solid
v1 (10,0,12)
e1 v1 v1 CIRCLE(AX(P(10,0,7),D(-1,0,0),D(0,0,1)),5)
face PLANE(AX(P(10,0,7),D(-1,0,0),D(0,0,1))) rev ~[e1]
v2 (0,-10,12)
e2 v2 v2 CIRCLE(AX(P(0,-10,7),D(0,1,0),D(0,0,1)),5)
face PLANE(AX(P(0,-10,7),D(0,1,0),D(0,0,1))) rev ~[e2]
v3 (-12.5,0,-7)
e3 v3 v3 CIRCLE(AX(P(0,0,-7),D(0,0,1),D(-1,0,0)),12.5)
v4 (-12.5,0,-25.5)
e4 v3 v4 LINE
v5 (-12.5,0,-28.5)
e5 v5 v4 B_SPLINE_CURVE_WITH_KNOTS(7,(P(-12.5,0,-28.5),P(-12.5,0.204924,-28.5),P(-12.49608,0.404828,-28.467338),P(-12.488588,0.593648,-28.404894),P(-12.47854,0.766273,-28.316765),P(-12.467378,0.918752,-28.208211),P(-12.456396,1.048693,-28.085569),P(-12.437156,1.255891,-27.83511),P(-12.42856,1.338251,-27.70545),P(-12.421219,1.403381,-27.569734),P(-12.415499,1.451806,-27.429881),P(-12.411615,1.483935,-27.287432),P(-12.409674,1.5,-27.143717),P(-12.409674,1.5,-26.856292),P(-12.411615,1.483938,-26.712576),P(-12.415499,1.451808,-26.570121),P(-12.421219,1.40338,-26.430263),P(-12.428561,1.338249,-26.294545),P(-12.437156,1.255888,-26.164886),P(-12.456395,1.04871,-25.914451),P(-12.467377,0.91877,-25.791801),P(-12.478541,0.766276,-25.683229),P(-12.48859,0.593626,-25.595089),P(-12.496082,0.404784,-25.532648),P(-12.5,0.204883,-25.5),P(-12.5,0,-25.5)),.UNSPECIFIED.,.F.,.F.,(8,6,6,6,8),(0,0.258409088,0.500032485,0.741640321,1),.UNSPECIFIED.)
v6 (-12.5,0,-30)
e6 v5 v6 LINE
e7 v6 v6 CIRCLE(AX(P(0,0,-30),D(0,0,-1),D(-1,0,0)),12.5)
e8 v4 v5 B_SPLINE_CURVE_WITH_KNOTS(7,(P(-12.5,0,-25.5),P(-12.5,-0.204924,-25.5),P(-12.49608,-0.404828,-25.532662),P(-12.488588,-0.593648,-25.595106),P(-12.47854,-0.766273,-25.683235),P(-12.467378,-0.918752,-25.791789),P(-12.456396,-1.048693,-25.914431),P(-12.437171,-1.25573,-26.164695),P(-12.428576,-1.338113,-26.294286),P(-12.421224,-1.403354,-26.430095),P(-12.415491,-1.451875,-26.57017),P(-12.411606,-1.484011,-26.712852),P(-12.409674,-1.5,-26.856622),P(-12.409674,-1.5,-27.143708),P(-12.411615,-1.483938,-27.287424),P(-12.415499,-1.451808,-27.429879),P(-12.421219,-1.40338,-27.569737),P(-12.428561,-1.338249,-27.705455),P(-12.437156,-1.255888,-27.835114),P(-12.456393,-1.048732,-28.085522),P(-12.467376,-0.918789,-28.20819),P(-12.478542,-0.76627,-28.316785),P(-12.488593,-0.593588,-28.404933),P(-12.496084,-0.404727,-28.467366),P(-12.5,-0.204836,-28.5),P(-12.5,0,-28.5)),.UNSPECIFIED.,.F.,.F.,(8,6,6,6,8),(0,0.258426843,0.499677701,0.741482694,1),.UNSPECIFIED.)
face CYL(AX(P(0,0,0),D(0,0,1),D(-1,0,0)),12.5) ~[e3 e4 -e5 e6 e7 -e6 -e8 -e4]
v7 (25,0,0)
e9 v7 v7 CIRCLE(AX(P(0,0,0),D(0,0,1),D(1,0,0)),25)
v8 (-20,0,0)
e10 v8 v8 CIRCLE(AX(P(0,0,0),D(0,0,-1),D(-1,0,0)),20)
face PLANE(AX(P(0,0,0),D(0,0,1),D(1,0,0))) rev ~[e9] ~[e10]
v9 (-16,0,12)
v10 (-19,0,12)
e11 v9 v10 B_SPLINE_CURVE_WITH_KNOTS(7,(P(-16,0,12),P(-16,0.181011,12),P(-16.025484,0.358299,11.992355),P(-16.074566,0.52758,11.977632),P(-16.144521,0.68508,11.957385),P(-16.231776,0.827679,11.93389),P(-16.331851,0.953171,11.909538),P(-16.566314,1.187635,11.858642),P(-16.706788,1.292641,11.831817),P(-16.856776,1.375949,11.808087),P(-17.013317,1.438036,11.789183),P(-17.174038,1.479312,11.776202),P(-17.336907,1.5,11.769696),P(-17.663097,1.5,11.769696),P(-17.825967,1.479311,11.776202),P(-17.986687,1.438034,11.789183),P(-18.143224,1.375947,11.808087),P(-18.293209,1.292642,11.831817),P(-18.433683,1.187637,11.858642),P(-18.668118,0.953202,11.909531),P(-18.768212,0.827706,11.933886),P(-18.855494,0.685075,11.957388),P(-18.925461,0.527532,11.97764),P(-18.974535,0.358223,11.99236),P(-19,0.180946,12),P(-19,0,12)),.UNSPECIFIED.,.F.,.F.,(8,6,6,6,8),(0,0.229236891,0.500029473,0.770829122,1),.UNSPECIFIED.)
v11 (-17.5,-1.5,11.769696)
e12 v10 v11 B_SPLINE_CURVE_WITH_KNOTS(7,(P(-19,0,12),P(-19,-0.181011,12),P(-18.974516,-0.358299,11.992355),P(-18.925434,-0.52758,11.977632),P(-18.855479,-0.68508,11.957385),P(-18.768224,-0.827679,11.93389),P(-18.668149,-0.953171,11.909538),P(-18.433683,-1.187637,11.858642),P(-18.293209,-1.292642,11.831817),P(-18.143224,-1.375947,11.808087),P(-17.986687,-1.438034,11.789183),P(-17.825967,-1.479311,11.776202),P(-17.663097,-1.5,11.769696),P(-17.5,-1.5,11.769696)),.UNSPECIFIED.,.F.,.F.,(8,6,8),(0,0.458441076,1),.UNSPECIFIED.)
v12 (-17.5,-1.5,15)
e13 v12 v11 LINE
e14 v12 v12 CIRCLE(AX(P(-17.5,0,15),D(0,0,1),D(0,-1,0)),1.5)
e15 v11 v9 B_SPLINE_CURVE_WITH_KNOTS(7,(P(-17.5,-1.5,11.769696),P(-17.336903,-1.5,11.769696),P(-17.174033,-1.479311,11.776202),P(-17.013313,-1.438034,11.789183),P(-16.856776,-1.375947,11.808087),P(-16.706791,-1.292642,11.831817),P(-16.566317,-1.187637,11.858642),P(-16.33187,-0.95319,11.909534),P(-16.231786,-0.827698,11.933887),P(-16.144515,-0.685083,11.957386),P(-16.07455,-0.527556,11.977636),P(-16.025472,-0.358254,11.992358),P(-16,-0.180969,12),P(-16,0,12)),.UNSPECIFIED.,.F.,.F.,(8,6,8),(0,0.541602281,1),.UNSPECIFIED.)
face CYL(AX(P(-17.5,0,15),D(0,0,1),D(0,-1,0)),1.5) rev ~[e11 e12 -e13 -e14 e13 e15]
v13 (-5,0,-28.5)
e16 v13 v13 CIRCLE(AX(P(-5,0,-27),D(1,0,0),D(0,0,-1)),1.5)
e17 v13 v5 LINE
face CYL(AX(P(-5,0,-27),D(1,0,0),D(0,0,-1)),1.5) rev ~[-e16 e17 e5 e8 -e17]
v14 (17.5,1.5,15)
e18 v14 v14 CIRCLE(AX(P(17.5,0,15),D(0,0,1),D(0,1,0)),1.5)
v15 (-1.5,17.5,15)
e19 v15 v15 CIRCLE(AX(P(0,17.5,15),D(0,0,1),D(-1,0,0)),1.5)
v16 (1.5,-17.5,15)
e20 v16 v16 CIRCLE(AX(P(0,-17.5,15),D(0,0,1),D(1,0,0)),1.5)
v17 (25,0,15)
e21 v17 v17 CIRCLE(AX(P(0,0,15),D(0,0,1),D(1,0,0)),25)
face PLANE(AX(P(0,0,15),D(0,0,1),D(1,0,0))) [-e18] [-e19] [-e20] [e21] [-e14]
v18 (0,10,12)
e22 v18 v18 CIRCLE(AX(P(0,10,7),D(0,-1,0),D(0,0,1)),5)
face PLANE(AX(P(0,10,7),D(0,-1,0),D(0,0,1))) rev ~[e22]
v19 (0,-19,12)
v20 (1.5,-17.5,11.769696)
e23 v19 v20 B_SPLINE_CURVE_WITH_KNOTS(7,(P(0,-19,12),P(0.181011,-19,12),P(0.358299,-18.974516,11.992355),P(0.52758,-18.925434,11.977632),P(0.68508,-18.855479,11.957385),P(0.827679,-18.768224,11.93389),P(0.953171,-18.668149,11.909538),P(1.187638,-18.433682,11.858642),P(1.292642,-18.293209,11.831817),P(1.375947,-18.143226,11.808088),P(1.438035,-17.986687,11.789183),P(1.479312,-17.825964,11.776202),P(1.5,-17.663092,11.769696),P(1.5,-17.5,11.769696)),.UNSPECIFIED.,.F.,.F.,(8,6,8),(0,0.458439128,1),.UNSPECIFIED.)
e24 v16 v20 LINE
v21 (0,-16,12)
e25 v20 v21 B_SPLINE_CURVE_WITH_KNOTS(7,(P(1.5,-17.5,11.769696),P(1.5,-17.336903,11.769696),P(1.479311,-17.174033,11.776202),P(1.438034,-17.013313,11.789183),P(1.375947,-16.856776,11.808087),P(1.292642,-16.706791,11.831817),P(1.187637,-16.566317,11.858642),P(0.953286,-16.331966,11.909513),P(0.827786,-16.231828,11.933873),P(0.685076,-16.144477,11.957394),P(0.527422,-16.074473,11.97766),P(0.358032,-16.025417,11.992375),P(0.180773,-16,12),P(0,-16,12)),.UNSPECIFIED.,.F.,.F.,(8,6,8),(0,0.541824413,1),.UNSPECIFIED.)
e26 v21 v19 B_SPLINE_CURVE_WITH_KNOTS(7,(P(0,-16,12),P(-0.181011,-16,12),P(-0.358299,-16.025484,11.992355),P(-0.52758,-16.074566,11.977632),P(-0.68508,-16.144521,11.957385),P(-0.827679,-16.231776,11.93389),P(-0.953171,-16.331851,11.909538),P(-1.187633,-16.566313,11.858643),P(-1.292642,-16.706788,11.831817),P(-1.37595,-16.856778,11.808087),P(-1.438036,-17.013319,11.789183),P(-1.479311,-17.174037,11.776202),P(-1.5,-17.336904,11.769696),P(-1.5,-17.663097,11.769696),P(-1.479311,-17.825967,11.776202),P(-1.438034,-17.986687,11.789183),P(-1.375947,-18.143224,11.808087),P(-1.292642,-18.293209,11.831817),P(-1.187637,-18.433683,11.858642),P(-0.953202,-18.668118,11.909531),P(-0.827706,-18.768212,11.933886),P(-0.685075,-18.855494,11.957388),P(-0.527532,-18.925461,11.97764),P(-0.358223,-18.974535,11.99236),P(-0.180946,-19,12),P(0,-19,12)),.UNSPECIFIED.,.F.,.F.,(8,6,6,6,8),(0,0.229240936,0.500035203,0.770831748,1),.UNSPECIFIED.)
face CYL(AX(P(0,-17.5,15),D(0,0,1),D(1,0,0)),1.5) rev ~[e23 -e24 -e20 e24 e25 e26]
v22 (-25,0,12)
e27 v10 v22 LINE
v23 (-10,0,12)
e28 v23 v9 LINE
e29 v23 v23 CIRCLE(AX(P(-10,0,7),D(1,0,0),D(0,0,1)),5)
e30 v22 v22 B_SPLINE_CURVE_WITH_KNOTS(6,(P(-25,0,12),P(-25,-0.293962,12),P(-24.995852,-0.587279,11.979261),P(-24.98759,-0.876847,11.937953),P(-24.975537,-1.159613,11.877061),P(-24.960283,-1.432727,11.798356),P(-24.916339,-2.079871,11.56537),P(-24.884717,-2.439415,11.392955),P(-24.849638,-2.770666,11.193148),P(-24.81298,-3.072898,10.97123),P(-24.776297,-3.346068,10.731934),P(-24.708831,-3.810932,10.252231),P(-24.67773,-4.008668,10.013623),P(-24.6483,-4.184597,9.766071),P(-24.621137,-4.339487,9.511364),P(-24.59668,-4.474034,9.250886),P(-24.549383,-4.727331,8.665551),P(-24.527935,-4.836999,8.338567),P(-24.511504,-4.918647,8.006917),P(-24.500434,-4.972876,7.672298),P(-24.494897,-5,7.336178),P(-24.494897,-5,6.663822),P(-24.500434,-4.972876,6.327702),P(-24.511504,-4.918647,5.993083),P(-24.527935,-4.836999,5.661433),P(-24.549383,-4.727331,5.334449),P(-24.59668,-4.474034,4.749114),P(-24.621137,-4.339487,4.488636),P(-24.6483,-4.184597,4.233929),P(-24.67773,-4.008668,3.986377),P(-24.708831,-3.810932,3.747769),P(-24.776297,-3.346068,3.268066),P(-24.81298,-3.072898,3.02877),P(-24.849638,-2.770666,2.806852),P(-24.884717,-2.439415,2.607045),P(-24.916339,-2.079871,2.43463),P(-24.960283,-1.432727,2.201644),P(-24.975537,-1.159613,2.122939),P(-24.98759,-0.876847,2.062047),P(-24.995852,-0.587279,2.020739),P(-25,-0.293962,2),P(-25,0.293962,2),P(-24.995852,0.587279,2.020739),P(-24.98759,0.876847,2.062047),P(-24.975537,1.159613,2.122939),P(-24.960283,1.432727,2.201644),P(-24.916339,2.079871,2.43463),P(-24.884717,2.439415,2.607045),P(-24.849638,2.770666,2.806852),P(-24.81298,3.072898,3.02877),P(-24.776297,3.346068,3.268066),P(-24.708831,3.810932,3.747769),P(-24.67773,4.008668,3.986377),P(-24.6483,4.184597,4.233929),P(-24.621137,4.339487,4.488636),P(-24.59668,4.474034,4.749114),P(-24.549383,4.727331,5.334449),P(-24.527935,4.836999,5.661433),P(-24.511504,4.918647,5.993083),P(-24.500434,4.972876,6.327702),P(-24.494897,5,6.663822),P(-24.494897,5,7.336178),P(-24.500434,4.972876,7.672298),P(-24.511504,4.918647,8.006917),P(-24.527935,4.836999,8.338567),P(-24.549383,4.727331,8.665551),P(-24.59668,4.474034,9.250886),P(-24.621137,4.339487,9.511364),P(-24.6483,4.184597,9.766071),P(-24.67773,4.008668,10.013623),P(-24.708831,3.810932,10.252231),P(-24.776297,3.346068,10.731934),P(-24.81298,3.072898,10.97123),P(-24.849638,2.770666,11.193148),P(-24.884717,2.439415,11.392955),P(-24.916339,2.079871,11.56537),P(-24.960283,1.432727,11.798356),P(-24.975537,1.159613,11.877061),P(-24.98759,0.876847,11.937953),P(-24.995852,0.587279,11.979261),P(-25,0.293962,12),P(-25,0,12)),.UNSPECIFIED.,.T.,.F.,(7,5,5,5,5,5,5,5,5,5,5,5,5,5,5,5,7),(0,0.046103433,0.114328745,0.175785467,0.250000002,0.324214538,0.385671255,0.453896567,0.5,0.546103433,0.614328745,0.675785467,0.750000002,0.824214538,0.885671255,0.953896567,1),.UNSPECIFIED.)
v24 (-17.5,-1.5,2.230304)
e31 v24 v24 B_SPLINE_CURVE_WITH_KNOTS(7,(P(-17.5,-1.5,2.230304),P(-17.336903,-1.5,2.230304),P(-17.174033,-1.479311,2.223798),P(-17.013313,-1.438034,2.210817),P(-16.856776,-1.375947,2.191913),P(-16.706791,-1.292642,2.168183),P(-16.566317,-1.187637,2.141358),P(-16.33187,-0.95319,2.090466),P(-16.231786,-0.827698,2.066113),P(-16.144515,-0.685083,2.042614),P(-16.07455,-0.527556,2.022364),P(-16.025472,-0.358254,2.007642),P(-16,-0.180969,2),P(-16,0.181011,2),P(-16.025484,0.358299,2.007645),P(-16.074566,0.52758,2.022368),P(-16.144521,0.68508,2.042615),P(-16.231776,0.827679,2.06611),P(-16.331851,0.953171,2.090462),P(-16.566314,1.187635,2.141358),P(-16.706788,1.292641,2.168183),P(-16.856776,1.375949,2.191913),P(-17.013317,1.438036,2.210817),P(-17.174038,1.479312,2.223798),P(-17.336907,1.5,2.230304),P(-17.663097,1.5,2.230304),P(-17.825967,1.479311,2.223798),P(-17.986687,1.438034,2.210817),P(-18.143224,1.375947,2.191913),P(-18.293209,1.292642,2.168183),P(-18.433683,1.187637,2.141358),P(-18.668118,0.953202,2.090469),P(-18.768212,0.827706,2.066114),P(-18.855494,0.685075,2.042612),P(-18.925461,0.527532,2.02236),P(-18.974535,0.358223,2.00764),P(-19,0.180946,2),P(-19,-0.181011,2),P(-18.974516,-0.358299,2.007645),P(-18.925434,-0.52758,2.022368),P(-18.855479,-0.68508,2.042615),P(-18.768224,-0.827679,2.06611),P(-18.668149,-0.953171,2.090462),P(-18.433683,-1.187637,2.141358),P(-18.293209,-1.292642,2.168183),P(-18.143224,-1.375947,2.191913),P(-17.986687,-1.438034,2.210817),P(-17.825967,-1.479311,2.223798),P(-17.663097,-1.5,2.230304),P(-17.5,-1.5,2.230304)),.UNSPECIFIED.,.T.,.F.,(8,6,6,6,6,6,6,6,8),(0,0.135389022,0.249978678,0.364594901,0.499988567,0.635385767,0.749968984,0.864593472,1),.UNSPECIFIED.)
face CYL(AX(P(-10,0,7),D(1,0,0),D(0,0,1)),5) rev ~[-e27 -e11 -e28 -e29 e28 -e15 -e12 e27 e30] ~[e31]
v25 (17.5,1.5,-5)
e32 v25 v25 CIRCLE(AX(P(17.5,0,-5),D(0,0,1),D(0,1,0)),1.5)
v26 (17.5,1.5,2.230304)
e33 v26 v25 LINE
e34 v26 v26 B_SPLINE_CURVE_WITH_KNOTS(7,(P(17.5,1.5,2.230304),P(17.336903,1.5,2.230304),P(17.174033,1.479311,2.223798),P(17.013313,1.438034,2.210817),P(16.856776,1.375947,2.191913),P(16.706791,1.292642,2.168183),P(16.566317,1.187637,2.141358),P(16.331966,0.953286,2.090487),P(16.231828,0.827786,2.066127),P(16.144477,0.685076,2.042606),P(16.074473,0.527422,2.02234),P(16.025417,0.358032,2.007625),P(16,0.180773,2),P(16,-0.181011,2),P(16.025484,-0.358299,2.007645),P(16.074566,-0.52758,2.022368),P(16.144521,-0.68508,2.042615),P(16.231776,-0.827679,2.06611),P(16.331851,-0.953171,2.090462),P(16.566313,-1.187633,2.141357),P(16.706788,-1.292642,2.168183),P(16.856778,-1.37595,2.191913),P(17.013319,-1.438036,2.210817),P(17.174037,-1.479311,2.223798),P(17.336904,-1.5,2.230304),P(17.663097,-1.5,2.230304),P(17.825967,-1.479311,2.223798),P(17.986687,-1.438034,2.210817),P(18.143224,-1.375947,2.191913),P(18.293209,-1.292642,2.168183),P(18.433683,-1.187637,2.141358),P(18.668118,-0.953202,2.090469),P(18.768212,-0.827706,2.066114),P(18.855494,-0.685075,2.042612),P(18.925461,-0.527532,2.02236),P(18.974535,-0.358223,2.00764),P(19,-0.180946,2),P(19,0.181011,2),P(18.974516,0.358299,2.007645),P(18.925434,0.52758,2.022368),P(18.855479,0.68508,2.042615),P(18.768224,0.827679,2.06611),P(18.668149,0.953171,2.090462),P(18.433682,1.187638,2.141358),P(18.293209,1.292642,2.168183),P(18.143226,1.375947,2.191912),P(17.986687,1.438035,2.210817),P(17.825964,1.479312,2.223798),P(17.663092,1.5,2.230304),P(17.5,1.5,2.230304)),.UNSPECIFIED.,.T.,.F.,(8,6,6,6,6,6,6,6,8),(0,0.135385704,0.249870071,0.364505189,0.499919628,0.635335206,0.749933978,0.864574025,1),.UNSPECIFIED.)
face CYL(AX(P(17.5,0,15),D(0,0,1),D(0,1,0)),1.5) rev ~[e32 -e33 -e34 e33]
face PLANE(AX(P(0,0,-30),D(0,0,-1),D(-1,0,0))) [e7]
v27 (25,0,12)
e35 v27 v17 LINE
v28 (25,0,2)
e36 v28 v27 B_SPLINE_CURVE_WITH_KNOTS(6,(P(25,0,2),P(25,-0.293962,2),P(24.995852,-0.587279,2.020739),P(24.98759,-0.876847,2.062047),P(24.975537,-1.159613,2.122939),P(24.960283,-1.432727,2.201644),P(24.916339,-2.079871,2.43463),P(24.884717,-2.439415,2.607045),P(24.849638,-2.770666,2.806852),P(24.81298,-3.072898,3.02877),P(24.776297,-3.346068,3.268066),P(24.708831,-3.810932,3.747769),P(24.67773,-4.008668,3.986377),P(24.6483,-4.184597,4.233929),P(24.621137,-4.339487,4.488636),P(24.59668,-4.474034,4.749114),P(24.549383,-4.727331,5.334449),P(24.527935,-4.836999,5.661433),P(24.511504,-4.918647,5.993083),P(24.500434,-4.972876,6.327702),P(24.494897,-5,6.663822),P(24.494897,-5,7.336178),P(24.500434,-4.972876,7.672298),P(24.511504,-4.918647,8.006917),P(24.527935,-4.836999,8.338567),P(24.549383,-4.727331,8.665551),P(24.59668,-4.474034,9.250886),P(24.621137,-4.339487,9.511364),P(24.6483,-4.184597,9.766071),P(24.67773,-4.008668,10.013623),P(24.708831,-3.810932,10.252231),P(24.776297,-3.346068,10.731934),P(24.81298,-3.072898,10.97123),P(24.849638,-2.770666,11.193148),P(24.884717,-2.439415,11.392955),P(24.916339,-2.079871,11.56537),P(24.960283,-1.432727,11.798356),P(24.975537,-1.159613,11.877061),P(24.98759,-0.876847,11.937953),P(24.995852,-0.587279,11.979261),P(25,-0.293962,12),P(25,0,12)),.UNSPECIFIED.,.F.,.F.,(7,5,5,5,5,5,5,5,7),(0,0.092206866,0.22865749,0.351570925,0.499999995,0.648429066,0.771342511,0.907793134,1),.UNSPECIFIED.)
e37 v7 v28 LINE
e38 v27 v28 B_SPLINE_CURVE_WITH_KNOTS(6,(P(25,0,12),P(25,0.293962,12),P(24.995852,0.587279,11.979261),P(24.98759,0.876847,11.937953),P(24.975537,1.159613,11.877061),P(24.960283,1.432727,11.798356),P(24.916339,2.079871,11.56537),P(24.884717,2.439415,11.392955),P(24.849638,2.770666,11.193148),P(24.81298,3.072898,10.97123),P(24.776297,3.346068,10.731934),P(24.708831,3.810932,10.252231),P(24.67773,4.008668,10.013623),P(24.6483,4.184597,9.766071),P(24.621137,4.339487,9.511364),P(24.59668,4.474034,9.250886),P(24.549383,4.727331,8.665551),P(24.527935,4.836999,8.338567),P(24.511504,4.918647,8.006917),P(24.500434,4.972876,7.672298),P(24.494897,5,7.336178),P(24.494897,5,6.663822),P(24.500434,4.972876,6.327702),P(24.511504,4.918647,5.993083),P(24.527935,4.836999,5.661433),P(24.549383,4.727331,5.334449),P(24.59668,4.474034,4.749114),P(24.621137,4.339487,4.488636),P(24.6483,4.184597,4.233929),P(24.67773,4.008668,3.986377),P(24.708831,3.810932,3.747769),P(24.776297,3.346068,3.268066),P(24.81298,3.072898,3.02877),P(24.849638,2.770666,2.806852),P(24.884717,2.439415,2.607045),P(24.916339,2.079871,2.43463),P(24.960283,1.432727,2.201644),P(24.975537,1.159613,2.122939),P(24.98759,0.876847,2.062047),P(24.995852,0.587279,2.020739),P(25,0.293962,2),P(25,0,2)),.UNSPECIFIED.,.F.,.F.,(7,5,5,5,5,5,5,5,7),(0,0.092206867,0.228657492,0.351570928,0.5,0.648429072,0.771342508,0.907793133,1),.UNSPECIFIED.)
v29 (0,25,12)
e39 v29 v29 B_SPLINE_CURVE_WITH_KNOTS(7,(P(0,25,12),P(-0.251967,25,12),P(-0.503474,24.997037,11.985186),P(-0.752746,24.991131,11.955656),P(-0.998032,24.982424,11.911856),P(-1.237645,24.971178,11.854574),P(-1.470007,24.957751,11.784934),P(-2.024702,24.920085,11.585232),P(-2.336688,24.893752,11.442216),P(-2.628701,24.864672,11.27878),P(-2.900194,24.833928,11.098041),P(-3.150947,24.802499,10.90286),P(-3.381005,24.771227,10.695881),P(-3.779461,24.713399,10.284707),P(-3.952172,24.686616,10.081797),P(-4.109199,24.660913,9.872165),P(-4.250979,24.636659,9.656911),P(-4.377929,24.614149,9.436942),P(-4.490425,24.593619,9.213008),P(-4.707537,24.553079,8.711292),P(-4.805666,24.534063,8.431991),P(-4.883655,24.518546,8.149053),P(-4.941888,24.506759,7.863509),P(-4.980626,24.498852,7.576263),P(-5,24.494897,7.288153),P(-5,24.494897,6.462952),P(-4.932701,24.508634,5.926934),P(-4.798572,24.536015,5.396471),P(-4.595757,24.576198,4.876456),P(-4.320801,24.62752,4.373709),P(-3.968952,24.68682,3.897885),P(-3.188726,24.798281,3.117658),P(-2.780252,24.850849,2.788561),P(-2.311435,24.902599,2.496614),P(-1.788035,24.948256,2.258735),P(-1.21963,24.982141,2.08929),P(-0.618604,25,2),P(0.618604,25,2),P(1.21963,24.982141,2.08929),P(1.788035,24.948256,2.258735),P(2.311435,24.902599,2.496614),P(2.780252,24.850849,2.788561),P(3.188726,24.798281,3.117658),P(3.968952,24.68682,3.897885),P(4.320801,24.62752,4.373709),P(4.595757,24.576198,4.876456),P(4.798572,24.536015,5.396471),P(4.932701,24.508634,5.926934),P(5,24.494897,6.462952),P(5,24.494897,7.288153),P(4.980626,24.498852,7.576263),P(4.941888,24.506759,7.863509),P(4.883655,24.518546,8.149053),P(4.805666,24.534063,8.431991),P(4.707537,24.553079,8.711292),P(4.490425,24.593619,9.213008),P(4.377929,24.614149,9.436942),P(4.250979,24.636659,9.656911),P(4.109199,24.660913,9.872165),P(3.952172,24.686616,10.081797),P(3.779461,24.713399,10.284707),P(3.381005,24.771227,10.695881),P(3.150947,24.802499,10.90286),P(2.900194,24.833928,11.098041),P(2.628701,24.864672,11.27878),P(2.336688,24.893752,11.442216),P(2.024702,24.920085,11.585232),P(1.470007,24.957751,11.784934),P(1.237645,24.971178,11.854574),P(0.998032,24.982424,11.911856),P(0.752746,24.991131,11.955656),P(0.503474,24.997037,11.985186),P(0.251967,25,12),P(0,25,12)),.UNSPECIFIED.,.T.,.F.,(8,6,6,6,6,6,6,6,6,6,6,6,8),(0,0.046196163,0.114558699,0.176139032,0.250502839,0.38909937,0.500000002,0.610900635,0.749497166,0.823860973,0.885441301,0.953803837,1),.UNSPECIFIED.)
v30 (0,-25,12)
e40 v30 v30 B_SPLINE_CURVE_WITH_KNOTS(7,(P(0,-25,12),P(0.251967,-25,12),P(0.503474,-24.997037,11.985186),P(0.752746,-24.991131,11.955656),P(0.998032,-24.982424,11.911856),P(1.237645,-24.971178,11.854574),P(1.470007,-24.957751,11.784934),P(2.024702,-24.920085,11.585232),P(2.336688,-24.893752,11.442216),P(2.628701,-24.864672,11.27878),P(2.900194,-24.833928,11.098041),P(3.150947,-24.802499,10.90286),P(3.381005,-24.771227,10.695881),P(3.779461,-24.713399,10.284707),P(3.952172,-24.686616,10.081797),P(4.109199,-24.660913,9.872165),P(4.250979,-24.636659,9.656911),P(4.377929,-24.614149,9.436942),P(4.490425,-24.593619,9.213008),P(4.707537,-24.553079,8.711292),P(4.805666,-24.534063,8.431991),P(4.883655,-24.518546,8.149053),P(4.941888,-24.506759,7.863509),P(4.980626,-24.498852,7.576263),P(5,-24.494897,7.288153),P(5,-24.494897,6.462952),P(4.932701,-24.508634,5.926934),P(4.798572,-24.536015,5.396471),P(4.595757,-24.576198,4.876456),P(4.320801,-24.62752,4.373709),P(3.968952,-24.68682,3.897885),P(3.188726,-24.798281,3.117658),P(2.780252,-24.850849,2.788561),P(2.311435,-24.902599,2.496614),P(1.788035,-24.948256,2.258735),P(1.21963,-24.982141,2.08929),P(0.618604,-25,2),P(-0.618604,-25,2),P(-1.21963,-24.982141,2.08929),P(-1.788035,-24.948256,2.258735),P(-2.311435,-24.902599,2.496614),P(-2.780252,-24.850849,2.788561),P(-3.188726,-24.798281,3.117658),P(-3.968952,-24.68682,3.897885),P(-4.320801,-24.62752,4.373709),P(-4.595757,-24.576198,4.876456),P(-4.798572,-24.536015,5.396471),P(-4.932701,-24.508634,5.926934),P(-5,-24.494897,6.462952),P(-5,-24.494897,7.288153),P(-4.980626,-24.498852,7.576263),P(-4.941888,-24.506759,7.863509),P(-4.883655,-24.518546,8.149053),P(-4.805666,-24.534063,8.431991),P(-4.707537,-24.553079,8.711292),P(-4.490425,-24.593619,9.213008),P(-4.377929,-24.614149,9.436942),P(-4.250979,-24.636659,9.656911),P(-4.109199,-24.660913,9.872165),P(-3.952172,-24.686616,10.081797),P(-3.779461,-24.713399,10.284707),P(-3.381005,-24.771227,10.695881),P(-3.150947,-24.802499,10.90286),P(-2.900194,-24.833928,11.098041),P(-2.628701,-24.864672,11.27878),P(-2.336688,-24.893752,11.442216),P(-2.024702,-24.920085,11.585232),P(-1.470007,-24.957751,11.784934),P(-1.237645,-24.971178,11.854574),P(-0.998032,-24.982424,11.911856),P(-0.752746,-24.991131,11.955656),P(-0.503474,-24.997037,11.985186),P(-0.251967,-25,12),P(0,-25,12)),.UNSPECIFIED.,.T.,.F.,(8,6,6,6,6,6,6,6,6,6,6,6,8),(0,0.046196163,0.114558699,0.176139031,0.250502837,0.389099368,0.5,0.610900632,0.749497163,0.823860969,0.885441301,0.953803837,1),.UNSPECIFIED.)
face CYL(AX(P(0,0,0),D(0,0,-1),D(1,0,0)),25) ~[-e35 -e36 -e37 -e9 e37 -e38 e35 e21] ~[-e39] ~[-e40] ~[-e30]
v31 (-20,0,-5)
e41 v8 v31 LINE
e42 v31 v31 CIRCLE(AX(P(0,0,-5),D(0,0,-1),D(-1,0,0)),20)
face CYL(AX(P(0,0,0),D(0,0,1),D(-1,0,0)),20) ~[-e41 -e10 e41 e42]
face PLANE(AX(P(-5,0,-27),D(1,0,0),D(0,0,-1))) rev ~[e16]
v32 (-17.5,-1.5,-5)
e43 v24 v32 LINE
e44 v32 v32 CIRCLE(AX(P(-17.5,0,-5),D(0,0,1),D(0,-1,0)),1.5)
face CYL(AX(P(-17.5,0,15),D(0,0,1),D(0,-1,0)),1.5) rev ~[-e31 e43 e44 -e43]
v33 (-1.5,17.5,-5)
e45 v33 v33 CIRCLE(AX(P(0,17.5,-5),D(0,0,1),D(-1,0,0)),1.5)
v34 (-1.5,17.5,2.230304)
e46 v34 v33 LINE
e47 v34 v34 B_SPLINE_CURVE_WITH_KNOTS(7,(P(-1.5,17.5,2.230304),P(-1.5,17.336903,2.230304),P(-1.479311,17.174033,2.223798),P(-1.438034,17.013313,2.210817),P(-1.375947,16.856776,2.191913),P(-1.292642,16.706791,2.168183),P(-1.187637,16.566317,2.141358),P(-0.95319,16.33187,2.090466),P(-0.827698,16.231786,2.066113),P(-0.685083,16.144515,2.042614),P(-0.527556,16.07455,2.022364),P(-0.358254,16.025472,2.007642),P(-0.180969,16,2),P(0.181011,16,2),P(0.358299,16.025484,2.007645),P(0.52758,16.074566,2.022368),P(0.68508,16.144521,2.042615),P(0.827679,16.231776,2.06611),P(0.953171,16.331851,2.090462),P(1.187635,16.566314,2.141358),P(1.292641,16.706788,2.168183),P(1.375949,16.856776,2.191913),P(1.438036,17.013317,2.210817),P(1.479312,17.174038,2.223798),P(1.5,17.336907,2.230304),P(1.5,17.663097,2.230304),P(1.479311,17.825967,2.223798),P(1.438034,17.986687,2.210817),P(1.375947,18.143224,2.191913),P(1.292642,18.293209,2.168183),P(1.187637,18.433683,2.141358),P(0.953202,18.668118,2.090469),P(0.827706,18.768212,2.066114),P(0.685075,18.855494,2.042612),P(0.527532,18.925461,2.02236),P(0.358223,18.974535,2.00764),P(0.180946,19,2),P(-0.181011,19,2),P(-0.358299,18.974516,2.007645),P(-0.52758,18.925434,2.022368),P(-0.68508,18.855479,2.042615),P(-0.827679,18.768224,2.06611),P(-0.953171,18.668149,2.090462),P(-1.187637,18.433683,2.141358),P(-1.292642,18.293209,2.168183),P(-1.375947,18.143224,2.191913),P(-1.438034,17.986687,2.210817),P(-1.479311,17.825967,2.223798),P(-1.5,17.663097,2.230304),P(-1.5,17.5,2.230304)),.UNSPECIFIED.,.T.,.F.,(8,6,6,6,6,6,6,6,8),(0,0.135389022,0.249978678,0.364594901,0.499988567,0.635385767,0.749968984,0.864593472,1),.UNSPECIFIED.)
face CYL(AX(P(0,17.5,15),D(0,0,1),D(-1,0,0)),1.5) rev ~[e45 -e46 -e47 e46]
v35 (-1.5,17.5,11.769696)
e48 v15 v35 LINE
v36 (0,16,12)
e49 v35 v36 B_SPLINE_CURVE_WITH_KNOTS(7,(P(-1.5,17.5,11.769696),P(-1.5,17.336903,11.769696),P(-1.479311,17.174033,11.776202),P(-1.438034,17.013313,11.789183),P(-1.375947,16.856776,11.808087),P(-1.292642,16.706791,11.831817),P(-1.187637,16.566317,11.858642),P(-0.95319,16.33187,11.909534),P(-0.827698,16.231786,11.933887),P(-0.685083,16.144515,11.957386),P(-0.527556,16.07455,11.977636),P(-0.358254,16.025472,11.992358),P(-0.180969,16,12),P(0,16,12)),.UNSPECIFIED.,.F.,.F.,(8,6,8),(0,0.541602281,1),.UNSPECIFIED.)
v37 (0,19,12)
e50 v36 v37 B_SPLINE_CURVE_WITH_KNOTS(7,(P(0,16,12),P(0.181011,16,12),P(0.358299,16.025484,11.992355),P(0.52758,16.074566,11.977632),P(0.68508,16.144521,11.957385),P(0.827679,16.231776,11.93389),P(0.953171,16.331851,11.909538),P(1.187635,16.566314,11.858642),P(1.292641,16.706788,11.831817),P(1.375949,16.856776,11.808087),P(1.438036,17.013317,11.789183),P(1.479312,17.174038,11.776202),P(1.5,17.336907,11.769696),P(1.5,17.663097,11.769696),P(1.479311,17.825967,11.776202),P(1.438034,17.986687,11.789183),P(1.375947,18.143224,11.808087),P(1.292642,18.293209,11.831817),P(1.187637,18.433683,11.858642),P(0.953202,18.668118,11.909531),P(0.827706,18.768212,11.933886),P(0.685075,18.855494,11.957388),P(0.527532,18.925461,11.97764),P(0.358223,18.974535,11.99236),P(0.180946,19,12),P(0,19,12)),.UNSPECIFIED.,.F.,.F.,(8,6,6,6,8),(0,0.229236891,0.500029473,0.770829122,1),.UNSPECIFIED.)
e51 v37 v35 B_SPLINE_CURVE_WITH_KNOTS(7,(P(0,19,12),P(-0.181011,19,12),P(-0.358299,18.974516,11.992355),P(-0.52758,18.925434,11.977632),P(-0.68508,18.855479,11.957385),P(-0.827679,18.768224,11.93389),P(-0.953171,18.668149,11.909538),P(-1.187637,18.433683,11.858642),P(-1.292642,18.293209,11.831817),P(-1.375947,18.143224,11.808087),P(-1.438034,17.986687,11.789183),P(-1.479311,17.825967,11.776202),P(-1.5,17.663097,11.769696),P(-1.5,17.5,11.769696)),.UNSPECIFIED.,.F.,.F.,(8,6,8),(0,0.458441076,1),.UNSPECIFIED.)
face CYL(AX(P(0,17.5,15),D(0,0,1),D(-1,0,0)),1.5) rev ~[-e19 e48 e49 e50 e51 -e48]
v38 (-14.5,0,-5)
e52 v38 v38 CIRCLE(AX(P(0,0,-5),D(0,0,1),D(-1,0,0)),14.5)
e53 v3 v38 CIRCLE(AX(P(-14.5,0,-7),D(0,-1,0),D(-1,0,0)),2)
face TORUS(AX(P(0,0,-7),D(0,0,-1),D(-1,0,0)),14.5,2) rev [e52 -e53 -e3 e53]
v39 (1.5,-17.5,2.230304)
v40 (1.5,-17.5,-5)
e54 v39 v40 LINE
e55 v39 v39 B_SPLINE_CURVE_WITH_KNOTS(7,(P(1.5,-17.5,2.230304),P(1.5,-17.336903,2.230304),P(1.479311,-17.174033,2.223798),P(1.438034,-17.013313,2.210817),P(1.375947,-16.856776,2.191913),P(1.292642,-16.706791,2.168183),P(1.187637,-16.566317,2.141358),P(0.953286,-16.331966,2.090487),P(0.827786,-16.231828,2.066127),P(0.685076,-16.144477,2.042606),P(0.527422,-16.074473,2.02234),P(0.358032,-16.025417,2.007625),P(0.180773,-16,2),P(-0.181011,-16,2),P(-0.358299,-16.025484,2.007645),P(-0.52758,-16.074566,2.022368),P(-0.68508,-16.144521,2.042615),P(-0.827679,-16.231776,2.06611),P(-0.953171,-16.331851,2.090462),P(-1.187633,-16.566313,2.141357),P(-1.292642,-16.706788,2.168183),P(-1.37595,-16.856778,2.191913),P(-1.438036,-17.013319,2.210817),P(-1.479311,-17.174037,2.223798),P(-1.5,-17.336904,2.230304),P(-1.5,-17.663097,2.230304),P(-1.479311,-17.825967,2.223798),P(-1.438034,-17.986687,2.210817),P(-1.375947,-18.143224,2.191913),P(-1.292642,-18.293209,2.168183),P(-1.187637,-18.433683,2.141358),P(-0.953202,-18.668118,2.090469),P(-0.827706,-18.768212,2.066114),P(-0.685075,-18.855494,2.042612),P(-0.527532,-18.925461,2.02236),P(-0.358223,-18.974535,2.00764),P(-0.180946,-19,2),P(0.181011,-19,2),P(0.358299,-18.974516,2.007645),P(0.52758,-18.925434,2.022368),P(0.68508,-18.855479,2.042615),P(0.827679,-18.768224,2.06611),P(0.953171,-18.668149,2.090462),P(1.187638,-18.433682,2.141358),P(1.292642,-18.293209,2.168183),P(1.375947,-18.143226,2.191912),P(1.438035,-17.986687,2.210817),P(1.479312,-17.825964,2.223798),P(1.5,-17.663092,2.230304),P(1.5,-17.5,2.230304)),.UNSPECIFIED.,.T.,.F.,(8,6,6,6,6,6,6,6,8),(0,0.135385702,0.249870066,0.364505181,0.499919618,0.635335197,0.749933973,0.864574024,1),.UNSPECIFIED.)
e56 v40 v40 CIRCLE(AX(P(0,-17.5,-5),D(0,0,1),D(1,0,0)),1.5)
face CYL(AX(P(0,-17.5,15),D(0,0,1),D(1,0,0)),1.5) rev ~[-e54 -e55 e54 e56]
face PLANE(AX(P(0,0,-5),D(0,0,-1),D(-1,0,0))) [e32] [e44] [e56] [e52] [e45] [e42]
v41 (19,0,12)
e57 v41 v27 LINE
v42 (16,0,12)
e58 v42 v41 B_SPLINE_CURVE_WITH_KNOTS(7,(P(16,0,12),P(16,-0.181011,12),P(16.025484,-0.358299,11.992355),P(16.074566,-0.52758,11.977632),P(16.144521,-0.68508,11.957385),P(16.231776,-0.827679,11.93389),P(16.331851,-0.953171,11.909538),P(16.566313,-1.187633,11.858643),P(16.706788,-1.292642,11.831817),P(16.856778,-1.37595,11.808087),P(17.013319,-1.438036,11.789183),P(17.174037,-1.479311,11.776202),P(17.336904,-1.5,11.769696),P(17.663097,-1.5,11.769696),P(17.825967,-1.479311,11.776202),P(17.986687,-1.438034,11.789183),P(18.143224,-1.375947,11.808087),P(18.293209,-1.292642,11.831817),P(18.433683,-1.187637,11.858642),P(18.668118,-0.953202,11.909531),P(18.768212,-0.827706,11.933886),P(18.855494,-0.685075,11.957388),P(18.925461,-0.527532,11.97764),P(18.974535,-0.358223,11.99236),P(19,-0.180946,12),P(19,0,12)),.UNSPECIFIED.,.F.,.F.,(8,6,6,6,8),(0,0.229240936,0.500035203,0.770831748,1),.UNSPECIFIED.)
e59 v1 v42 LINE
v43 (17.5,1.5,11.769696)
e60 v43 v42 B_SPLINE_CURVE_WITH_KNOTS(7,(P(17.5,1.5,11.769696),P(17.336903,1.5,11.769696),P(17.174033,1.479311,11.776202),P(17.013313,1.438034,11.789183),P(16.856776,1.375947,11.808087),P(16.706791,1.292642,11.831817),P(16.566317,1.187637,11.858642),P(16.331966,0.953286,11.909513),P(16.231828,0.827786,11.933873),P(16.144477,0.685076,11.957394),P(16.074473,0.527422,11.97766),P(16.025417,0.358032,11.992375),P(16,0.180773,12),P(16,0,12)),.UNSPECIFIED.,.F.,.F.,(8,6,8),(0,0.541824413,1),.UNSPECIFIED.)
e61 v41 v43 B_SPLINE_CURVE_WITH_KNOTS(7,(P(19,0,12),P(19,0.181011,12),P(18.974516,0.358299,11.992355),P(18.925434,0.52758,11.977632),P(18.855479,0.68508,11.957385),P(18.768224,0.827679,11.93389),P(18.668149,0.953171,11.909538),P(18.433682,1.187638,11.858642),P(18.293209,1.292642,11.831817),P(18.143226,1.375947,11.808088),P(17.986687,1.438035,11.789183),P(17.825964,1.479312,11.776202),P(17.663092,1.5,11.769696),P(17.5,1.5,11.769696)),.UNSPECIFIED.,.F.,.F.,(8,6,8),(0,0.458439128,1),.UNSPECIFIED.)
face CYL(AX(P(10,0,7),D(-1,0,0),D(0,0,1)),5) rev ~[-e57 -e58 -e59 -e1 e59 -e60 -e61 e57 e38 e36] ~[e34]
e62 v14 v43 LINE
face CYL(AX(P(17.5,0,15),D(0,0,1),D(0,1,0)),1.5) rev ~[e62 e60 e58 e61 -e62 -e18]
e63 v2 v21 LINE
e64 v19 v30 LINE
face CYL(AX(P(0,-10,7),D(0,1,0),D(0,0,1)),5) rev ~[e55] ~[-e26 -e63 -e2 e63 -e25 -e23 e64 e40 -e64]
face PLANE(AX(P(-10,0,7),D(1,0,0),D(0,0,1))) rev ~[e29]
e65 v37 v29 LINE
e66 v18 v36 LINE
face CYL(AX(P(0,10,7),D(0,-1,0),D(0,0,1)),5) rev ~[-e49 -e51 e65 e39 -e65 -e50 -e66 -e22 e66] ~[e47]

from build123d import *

# Parameters (mm, degrees)
SKETCH1_R           = 25
BOSS_EXTRUDE1_DEPTH = 15
CUT_EXTRUDE1_START  = -10
SKETCH2_R           = 5
CUT_EXTRUDE1_DEPTH  = 60
SKETCH8_R           = 20
BOSS_EXTRUDE4_DEPTH = 5
SKETCH3_R           = 1.5
CUT_EXTRUDE2_DEPTH  = 20
CIRPATTERN2_COUNT   = 4
SKETCH4_R           = 12.5
BOSS_EXTRUDE2_DEPTH = 30
CUT_EXTRUDE4_START  = -5
SKETCH7_R           = 1.5
CUT_EXTRUDE4_DEPTH  = 15
FILLET3_R           = 2


with BuildPart() as part:
    # Sketch1 → Boss-Extrude1 (new body)
    with BuildSketch(Plane.XY):
        Circle(SKETCH1_R)
    extrude(amount=BOSS_EXTRUDE1_DEPTH)

    # Sketch2 → Cut-Extrude1 (cut)
    with BuildSketch(Plane(origin=(0, 0, 0), x_dir=(1, 0, 0), z_dir=(0, 1, 0)).offset(CUT_EXTRUDE1_START)):
        with Locations(Location((0, -7, 0), (0, 0, 270))):
            Circle(SKETCH2_R)
    cut_extrude1 = extrude(amount=-CUT_EXTRUDE1_DEPTH, mode=Mode.SUBTRACT)

    # Sketch8 → Boss-Extrude4 (add)
    with BuildSketch(Plane(origin=(0, 0, 0), x_dir=(-1, 0, 0), z_dir=(0, 0, -1))):
        Circle(SKETCH8_R)
    extrude(amount=BOSS_EXTRUDE4_DEPTH)

    # Sketch3 → Cut-Extrude2 (cut)
    with BuildSketch(Plane.XY.offset(15)):
        with Locations((0, -17.5)):
            Circle(SKETCH3_R)
    cut_extrude2 = extrude(amount=-CUT_EXTRUDE2_DEPTH, mode=Mode.SUBTRACT)

    # CirPattern2: Cut-Extrude1, Cut-Extrude2 ×4 about axis
    cirpattern2_axis = Axis((0, 0, 0), (0, 0, 1))
    add([cut_extrude1.rotate(cirpattern2_axis, i * 360 / CIRPATTERN2_COUNT) for i in range(1, CIRPATTERN2_COUNT)], mode=Mode.SUBTRACT)
    add([cut_extrude2.rotate(cirpattern2_axis, i * 360 / CIRPATTERN2_COUNT) for i in range(1, CIRPATTERN2_COUNT)], mode=Mode.SUBTRACT)

    # Sketch4 → Boss-Extrude2 (add)
    with BuildSketch(Plane(origin=(0, 0, 0), x_dir=(-1, 0, 0), z_dir=(0, 0, -1))):
        Circle(SKETCH4_R)
    extrude(amount=BOSS_EXTRUDE2_DEPTH)

    # Sketch7 → Cut-Extrude4 (cut)
    with BuildSketch(Plane(origin=(0, 0, 0), x_dir=(0, 0, -1), z_dir=(1, 0, 0)).offset(CUT_EXTRUDE4_START)):
        with Locations((27, 0)):
            Circle(SKETCH7_R)
    extrude(amount=-CUT_EXTRUDE4_DEPTH, mode=Mode.SUBTRACT)

    # Fillet3
    fillet3_edges = [part.edges().sort_by_distance(p)[0] for p in [
        (12.5, 0, -5),
    ]]
    fillet(fillet3_edges, radius=FILLET3_R)


solid = part.part
